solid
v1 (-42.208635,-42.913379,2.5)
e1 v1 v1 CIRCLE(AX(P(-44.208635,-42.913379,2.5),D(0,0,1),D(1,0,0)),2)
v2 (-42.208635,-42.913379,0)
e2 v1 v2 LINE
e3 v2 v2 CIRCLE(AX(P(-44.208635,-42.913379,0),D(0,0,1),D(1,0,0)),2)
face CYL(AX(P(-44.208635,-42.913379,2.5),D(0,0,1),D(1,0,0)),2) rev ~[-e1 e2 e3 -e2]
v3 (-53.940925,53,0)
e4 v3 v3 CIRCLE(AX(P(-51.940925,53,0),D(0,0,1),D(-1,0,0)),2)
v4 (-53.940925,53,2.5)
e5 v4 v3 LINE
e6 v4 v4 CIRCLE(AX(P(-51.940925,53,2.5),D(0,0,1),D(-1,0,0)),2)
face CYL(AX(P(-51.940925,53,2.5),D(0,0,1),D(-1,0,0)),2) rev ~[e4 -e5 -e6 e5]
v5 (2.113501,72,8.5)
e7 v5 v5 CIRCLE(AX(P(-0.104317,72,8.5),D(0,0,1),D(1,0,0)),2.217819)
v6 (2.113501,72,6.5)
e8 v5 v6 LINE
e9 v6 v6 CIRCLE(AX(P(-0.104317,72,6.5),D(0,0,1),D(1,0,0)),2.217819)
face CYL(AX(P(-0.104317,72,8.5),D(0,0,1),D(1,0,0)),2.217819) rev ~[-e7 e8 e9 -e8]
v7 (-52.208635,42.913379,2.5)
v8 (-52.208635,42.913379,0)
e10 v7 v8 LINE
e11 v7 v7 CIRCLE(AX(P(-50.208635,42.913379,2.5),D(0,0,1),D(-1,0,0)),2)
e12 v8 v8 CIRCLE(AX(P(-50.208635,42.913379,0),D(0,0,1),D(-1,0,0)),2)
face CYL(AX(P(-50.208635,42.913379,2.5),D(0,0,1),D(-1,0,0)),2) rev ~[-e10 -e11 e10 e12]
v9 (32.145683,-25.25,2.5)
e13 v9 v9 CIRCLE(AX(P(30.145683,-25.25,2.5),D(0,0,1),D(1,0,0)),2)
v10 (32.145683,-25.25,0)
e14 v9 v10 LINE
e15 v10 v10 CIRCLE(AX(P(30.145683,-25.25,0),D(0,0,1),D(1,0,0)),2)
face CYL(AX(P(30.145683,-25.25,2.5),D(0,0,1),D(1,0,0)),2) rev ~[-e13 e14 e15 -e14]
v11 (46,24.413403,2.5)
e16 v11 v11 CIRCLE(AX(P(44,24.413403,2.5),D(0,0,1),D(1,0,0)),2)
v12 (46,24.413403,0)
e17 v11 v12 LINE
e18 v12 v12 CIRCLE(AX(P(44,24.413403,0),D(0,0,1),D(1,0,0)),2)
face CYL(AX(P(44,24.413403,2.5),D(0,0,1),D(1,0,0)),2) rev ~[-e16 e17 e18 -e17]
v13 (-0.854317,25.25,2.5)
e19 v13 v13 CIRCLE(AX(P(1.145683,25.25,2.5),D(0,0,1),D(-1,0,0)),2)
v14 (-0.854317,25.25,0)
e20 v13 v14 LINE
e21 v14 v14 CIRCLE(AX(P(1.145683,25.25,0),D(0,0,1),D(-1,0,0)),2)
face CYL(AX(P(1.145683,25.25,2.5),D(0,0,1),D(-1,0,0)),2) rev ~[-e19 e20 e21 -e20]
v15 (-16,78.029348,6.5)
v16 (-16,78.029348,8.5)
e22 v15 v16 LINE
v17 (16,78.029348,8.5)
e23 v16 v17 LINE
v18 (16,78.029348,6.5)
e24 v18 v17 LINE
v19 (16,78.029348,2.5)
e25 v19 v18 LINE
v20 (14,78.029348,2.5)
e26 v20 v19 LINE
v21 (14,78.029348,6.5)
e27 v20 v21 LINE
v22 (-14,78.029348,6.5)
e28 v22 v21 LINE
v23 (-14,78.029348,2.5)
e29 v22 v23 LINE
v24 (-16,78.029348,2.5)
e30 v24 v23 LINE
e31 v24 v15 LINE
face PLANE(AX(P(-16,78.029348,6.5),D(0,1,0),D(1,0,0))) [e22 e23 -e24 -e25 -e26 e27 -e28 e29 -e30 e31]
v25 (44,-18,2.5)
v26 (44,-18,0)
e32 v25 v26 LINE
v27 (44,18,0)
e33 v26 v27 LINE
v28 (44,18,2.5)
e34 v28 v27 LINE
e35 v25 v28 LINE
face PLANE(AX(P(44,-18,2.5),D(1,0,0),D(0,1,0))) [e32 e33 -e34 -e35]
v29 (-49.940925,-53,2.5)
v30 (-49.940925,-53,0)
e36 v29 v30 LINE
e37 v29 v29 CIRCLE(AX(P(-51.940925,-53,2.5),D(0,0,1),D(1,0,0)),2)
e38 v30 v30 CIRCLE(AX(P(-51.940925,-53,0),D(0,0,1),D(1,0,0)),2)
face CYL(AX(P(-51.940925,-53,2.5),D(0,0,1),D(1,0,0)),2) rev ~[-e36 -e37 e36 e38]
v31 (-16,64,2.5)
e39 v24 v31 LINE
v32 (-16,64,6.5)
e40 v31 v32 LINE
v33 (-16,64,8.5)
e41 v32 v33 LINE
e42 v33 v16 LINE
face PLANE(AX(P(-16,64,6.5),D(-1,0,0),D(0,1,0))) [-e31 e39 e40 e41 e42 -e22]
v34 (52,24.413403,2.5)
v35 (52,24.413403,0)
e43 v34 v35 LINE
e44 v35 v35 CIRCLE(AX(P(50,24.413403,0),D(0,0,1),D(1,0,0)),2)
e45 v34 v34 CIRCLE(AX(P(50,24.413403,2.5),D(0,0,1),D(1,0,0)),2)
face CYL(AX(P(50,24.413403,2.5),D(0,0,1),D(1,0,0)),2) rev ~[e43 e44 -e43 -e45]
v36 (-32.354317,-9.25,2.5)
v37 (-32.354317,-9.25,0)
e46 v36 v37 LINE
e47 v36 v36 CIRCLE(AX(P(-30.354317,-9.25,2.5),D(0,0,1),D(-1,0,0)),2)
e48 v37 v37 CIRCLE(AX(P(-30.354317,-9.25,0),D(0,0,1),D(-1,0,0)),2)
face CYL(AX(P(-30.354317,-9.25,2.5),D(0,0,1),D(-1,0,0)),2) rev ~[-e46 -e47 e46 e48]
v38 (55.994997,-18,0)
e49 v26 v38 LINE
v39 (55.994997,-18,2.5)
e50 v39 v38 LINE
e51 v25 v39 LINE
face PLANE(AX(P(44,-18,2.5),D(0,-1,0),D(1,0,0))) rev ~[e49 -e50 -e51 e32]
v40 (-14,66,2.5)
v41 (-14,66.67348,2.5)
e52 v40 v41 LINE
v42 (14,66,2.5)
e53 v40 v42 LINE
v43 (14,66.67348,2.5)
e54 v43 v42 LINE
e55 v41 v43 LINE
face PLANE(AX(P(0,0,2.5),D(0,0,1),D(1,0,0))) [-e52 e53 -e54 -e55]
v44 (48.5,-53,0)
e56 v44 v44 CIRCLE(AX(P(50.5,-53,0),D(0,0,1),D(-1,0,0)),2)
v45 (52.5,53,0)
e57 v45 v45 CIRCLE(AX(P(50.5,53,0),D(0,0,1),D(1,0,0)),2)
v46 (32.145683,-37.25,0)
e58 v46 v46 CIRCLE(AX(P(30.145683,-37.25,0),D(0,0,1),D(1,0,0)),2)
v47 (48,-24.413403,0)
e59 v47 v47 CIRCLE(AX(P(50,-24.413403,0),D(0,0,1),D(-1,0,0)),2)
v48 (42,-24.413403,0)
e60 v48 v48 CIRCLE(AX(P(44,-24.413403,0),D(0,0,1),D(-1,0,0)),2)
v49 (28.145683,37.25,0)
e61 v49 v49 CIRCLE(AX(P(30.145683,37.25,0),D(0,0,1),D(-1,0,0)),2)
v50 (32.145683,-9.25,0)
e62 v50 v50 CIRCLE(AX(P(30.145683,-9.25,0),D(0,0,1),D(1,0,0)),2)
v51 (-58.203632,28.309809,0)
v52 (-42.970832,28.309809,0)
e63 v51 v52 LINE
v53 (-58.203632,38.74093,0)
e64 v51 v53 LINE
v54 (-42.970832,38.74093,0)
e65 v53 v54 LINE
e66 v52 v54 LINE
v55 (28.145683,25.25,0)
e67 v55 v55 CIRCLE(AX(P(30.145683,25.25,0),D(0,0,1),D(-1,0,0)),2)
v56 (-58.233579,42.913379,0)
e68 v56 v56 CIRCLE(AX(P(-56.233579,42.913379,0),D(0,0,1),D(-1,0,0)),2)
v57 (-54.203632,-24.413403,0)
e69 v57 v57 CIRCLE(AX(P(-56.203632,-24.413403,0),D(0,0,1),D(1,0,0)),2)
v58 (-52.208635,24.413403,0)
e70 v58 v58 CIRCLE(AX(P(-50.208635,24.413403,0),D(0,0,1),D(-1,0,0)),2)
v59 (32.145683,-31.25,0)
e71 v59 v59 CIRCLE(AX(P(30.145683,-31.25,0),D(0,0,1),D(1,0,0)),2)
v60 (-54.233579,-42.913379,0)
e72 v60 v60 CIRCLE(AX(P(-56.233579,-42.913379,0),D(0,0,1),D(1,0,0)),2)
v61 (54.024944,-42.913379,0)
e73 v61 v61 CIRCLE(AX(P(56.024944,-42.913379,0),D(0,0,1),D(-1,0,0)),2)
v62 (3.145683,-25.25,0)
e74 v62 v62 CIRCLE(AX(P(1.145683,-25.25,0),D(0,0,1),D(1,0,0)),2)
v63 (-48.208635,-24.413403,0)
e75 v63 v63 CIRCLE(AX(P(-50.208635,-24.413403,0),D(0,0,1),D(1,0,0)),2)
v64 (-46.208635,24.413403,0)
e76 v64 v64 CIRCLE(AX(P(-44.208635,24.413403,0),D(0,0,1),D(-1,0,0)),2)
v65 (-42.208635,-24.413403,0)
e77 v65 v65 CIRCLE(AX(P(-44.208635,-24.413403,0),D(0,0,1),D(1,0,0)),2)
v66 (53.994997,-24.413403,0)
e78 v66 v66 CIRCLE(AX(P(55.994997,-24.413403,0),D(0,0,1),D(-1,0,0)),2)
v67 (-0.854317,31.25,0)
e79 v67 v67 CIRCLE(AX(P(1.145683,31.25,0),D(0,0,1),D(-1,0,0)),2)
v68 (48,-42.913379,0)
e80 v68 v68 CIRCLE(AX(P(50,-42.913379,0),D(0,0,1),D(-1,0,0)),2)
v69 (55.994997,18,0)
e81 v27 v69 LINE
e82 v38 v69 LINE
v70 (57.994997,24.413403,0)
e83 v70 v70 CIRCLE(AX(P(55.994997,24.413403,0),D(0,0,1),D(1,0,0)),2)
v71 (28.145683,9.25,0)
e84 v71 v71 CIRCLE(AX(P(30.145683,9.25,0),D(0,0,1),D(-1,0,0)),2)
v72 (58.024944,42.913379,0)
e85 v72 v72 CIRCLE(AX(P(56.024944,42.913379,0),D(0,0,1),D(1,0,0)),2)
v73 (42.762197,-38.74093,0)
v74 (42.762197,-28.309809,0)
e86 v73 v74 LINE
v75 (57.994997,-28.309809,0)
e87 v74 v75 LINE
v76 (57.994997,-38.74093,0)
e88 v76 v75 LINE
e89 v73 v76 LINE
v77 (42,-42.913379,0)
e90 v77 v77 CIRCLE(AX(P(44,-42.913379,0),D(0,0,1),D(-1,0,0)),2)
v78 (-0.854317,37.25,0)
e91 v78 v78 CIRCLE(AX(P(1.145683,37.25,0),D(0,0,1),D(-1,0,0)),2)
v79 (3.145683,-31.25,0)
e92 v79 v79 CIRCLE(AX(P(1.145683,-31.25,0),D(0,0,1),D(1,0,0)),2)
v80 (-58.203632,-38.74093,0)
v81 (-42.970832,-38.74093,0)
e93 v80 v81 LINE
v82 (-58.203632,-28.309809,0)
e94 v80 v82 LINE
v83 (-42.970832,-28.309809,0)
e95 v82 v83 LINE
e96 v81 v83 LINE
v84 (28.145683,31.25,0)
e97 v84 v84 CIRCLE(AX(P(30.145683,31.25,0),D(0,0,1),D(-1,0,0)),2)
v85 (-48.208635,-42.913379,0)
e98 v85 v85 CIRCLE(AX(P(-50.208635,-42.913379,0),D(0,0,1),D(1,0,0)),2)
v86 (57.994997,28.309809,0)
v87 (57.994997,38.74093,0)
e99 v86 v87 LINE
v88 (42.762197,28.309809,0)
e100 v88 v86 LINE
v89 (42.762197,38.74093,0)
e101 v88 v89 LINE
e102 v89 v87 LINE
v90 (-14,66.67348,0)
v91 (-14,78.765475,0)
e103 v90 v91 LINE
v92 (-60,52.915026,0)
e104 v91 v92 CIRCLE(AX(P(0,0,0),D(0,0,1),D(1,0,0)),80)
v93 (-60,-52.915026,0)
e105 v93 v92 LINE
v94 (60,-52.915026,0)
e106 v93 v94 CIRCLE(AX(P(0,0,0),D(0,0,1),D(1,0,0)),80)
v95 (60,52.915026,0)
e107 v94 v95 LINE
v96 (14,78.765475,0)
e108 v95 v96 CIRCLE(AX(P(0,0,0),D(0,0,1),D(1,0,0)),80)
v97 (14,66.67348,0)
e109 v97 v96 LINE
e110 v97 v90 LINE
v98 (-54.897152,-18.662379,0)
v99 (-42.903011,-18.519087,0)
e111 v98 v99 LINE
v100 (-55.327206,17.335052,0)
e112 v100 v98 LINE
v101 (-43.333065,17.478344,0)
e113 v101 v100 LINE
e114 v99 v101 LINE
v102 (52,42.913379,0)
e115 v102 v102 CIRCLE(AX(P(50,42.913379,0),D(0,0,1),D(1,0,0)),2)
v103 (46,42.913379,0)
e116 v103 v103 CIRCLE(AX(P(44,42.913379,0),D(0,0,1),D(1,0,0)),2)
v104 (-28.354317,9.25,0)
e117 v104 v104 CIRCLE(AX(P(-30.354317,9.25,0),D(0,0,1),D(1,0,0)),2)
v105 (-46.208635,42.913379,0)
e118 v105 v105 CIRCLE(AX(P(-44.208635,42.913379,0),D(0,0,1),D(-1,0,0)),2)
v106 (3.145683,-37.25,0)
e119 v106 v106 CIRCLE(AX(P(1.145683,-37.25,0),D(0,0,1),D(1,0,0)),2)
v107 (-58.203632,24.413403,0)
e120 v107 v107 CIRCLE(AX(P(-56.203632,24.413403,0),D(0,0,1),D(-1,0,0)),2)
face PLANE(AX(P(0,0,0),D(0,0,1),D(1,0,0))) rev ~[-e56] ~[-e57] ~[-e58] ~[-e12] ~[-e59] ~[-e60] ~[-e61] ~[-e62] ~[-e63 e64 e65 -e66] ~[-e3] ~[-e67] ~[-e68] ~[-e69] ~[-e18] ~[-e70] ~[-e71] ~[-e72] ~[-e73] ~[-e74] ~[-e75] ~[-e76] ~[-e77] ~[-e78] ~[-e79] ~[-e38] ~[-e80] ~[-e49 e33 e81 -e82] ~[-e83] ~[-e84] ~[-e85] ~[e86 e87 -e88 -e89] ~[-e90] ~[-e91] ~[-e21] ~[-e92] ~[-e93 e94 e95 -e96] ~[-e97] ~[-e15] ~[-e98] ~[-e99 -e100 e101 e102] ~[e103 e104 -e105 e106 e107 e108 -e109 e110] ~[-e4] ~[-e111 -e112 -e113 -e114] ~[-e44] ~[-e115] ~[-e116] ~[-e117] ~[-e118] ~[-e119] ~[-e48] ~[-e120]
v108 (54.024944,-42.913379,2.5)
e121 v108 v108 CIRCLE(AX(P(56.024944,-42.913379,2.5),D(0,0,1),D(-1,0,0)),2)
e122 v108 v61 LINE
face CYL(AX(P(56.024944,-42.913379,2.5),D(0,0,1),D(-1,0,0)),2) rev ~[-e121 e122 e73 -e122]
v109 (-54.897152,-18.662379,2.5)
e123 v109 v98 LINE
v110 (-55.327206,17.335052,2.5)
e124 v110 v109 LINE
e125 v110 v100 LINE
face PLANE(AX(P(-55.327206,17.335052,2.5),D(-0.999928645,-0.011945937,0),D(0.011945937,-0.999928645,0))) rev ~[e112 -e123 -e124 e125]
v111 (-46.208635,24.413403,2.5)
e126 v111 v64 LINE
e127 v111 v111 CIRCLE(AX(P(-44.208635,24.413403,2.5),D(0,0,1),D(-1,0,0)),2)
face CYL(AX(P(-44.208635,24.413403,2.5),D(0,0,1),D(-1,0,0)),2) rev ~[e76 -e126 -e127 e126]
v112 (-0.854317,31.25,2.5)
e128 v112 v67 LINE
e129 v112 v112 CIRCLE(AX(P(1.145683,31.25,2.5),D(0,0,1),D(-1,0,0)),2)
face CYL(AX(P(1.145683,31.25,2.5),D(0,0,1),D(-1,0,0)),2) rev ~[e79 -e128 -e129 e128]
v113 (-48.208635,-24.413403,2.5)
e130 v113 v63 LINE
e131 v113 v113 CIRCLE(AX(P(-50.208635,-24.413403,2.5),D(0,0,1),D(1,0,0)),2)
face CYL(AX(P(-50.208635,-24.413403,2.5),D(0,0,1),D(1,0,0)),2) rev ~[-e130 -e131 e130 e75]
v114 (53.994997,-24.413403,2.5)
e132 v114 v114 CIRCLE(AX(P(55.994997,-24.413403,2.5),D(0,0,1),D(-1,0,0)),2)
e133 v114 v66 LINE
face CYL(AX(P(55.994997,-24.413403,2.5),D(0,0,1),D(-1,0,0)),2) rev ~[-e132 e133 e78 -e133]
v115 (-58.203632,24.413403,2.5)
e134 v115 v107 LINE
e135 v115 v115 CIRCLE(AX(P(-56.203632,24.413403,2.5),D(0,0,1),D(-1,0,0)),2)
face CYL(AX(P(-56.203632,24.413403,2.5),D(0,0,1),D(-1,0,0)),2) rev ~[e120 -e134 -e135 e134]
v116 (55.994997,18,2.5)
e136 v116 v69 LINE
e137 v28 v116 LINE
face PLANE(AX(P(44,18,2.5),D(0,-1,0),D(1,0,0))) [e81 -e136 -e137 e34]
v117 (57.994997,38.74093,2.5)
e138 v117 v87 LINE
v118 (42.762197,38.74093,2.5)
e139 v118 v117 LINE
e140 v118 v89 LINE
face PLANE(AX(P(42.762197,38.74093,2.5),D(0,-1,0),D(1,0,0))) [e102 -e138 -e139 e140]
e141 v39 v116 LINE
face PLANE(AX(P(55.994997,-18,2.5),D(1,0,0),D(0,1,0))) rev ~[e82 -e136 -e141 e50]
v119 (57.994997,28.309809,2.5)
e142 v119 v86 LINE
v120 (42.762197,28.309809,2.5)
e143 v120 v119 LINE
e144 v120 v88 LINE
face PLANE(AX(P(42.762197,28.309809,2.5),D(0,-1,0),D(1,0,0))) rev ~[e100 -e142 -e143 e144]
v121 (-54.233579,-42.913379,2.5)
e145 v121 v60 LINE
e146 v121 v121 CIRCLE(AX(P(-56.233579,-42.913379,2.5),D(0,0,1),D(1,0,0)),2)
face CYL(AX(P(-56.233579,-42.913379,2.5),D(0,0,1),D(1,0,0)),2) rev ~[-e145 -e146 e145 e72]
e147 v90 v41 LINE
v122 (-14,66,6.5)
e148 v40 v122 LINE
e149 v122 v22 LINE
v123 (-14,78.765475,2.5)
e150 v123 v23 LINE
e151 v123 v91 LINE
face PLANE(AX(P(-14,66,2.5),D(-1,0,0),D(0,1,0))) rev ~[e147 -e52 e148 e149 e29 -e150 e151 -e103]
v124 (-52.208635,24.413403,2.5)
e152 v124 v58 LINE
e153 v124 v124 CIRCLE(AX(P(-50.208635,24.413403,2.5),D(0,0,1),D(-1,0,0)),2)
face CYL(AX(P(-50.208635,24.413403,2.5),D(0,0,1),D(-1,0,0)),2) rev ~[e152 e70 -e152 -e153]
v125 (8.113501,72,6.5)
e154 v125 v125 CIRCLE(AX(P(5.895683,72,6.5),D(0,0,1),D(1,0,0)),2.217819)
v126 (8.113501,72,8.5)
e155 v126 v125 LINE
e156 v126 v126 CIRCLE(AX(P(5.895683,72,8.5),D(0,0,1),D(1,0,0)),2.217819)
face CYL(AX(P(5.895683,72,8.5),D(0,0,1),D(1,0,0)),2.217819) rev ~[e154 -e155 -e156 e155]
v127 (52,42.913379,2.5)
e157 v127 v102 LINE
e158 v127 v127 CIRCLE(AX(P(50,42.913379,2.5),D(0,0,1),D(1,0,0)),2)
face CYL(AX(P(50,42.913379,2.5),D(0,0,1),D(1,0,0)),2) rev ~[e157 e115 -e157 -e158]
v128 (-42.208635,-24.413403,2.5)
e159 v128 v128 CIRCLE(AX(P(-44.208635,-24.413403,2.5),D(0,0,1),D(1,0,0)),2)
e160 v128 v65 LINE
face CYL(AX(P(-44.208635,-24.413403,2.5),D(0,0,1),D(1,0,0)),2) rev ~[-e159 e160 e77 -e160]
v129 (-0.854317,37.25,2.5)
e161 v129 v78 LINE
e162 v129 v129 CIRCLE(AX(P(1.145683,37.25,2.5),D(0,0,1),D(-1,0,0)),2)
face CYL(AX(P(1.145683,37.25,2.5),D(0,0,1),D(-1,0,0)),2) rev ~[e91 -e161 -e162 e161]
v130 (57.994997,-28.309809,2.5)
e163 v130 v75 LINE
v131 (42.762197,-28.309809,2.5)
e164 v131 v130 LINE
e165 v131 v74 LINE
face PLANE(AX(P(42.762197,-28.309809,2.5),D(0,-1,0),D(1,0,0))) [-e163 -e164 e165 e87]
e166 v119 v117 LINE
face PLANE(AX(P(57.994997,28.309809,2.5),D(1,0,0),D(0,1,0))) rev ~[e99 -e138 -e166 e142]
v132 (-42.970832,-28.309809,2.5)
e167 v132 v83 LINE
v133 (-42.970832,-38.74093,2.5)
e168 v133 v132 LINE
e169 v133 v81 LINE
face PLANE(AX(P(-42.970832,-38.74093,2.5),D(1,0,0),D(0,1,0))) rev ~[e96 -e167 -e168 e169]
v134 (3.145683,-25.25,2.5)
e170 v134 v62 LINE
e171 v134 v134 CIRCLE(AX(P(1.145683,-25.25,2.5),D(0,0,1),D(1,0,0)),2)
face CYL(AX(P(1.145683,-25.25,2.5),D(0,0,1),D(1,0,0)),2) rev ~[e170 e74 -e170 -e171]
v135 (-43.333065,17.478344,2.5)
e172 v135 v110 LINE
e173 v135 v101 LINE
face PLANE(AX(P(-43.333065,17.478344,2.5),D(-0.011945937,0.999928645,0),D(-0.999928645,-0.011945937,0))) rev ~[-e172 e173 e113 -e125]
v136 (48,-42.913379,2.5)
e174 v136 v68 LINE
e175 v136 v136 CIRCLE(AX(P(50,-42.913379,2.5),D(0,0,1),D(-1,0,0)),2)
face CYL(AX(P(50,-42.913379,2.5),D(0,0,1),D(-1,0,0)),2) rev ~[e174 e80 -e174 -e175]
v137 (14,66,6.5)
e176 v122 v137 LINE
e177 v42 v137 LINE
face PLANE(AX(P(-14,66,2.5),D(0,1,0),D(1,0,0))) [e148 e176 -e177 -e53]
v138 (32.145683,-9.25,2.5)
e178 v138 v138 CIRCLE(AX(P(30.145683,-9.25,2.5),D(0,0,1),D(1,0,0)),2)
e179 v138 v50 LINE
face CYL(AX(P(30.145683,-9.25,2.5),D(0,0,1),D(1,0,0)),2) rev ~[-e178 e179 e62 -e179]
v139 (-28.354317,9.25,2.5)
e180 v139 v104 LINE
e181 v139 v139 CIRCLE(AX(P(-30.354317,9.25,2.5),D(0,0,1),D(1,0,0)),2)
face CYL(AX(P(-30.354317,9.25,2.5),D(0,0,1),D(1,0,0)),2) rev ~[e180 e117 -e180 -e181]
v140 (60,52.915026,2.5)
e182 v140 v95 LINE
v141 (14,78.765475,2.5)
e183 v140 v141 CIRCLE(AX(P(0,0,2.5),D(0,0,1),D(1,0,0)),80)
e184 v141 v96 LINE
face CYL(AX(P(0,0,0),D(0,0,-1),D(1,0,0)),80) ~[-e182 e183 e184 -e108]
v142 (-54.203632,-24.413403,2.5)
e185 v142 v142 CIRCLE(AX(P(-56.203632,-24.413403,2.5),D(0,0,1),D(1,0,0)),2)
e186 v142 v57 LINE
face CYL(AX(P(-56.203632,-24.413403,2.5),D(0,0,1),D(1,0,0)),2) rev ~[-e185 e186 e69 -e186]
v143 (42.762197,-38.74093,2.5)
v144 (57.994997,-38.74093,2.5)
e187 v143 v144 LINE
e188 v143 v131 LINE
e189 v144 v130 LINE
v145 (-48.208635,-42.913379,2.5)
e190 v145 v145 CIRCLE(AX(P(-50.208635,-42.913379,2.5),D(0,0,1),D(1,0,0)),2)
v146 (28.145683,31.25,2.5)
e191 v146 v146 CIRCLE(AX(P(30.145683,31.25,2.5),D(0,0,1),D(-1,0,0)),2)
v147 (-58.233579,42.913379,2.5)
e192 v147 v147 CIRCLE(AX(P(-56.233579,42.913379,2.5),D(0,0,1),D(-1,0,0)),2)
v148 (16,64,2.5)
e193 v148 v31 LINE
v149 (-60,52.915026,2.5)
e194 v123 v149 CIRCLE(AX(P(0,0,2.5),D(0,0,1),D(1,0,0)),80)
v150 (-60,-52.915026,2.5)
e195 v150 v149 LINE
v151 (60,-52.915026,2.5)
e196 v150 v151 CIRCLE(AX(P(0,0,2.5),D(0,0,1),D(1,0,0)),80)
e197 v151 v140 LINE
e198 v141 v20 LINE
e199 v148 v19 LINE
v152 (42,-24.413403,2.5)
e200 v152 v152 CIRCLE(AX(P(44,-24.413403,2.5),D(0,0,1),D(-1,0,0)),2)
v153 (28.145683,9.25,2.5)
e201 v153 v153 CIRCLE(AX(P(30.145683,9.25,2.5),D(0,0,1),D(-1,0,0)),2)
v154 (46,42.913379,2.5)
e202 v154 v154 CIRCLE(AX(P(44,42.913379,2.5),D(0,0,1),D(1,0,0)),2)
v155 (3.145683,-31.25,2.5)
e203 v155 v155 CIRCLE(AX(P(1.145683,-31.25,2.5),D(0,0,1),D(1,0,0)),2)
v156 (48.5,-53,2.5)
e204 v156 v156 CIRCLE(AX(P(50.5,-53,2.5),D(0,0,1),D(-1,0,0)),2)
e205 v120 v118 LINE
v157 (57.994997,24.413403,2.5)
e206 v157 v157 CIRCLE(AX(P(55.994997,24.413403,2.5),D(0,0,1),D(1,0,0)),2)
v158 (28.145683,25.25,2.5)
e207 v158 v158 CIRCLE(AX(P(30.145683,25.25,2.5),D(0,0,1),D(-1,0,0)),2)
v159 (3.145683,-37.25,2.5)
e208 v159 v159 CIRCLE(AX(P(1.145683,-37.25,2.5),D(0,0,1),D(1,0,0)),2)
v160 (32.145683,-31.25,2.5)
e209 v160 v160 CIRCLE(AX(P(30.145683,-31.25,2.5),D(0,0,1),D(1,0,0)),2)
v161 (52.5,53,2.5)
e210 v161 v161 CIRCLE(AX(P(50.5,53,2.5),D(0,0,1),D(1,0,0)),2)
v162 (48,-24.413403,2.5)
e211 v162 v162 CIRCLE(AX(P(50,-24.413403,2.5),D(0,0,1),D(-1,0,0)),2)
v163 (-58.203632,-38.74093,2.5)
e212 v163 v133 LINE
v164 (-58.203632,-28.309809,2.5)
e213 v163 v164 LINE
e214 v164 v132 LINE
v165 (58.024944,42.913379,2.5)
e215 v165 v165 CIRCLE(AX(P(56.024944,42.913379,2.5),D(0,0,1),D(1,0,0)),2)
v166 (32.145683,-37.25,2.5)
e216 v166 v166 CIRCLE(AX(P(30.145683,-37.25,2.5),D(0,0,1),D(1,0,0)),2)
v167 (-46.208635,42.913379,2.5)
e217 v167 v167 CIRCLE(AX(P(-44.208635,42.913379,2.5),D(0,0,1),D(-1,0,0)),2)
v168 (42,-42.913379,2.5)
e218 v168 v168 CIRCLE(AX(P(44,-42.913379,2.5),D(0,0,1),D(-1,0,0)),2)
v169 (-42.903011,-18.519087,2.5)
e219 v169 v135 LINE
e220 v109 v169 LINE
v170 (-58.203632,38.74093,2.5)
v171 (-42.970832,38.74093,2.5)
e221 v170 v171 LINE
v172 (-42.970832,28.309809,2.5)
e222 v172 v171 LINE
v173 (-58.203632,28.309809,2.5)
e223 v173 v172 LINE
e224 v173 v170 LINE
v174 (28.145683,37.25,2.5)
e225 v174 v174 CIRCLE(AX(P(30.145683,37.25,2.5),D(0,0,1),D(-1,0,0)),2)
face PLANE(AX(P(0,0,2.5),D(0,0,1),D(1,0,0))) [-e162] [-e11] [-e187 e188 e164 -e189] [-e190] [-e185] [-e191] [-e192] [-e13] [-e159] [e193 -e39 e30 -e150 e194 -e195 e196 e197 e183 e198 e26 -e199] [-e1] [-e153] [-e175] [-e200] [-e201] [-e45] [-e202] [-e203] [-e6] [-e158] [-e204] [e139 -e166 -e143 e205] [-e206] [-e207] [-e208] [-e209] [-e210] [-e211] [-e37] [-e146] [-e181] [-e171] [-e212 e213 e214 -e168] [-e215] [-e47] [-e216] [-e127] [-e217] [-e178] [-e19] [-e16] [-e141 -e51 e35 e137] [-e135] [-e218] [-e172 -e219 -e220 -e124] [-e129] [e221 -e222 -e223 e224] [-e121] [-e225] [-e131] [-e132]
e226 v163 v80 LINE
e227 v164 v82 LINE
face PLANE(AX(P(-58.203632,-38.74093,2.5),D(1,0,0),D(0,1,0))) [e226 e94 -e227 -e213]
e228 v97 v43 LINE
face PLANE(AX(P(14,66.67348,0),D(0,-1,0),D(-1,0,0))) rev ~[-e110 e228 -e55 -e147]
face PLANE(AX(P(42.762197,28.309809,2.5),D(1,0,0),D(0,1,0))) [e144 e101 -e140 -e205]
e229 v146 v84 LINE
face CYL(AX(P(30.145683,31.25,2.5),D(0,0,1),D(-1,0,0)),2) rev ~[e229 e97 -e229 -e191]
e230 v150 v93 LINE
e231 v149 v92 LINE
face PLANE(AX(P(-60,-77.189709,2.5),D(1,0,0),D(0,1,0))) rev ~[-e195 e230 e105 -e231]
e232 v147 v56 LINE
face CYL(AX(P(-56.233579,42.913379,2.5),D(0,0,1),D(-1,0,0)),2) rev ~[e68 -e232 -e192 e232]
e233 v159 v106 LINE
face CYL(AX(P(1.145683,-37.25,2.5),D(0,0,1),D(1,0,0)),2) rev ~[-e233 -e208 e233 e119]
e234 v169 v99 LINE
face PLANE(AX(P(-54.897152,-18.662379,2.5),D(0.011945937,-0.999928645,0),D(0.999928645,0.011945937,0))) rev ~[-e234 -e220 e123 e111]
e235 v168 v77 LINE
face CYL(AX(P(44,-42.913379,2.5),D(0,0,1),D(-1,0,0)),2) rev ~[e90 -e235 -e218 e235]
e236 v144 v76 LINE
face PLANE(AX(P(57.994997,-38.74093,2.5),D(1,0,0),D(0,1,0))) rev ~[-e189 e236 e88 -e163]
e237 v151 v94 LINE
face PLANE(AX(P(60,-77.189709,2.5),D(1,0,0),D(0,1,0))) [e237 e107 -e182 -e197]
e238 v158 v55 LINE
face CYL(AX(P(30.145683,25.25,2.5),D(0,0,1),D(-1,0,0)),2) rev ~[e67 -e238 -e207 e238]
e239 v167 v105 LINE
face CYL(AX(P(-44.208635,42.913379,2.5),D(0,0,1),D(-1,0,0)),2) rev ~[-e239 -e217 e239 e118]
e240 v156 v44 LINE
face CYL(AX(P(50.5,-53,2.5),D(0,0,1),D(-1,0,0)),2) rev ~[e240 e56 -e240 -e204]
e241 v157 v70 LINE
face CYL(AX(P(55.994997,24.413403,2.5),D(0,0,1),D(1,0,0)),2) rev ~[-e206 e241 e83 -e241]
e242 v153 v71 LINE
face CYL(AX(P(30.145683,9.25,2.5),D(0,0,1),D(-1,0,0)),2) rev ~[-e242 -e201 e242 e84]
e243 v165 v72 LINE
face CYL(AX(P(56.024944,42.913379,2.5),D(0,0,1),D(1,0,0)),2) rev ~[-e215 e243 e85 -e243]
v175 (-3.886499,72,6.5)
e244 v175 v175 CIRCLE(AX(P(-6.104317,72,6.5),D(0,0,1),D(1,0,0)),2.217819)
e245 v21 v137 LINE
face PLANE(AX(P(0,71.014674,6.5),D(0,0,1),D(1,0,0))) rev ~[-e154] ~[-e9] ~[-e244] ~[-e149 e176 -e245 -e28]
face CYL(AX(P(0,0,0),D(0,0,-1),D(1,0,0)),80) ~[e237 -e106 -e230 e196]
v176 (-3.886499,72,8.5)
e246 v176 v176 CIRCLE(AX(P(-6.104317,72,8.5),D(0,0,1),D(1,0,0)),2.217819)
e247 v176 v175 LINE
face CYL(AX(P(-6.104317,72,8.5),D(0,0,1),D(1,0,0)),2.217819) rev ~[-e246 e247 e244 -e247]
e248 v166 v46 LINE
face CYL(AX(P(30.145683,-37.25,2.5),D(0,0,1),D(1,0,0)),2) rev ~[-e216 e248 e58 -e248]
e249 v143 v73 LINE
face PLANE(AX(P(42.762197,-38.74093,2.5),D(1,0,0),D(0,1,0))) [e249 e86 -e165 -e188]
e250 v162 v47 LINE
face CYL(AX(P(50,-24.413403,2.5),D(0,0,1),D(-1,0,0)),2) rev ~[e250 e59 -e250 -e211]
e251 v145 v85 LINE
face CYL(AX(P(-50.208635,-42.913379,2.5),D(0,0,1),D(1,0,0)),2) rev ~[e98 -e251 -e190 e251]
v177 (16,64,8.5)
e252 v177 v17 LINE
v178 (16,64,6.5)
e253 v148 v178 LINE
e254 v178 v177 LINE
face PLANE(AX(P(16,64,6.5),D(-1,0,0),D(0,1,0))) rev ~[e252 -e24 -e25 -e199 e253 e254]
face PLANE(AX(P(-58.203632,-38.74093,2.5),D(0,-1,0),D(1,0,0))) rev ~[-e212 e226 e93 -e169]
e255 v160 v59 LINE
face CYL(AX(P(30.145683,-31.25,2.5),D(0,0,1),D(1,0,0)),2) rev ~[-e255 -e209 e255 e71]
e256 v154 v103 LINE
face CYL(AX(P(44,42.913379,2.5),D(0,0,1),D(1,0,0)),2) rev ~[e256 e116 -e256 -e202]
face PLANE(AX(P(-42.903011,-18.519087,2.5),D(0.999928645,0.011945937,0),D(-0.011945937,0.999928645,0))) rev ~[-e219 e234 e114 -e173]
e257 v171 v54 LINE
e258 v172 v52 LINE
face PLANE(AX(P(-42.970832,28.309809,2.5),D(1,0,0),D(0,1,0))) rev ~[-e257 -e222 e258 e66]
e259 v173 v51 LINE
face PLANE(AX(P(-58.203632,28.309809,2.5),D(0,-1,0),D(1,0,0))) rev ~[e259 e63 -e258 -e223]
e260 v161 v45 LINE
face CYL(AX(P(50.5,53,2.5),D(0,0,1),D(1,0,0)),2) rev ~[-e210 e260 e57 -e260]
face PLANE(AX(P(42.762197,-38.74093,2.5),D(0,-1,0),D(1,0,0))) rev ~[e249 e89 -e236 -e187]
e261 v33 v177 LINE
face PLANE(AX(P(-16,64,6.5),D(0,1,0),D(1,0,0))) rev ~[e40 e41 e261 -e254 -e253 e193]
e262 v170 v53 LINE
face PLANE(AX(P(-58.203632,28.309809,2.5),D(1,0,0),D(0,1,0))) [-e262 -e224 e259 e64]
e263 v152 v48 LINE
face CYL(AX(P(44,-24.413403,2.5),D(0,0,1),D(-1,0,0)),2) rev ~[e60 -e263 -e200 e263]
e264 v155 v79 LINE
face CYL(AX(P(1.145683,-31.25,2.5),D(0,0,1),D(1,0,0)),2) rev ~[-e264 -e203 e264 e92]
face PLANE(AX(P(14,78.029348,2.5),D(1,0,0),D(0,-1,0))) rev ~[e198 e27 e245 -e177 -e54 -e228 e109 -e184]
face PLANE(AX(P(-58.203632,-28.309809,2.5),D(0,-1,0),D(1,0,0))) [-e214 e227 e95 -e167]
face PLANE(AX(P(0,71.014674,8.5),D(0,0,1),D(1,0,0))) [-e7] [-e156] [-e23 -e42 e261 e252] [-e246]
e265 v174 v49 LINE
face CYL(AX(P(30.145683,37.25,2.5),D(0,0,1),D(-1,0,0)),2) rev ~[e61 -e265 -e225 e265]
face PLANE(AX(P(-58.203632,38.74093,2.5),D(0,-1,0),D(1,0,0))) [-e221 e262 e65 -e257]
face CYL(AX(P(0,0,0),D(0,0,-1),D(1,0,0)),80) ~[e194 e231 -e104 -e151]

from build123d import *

# Parameters (mm, degrees)
SKETCH_1_R          = 80
EXTRUDE_1_DEPTH     = 2.5
SKETCH_2_W          = 100.60548239
SKETCH_2_H          = 145.735598162
CUT_EXTRUDE_1_DEPTH = 114.164702978
SKETCH_3_R          = 2
CUT_EXTRUDE_2_DEPTH = 101.031245119
SKETCH_4_R          = 2
SKETCH_4_W          = 15.232799914
SKETCH_4_H          = 10.431121385
SKETCH_4_W_2        = 11.994997095
SKETCH_4_H_2        = 36
CUT_EXTRUDE_3_DEPTH = 101.031245119
EXTRUDE_2_DEPTH     = 4
SKETCH_6_W          = 32
SKETCH_6_H          = 14.029347869
EXTRUDE_3_DEPTH     = 2
SKETCH_7_R          = 2.217818609
CUT_EXTRUDE_4_DEPTH = 3
SKETCH_8_W          = 28
SKETCH_8_H          = 15.27806524
CUT_EXTRUDE_5_DEPTH = 3


with BuildPart() as part:
    # 草圖1 → 填料-伸長1 (new body)
    with BuildSketch(Plane.XY):
        Circle(SKETCH_1_R)
    extrude(amount=EXTRUDE_1_DEPTH)

    # 草圖2 → 除料-伸長1 (cut, through all)
    with BuildSketch(Plane.XY.offset(2.5)):
        with Locations((110.302741195, -4.321910255)):
            Rectangle(SKETCH_2_W, SKETCH_2_H)
        with Locations((-110.302741195, -4.321910255)):
            Rectangle(SKETCH_2_W, SKETCH_2_H)
    extrude(amount=-CUT_EXTRUDE_1_DEPTH, mode=Mode.SUBTRACT)

    # 草圖3 → 除料-伸長2 (cut, through all)
    with BuildSketch(Plane.XY.offset(2.5)):
        with Locations((50.5, 53)):
            Circle(SKETCH_3_R)
        with Locations(Location((-51.940924548, 53, 0), (0, 0, 180))):
            Circle(SKETCH_3_R)
        with Locations(Location((50.5, -53, 0), (0, 0, 180))):
            Circle(SKETCH_3_R)
        with Locations((-51.940924548, -53)):
            Circle(SKETCH_3_R)
    extrude(amount=-CUT_EXTRUDE_2_DEPTH, mode=Mode.SUBTRACT)

    # 草圖4 → 除料-伸長3 (cut, through all)
    with BuildSketch(Plane.XY.offset(2.5)):
        with Locations((56.024944143, 42.913378777)):
            Circle(SKETCH_4_R)
        with Locations((50, 42.913378777)):
            Circle(SKETCH_4_R)
        with Locations((44, 42.913378777)):
            Circle(SKETCH_4_R)
        with Locations((55.994997095, 24.413403016)):
            Circle(SKETCH_4_R)
        with Locations((50, 24.413403016)):
            Circle(SKETCH_4_R)
        with Locations((44, 24.413403016)):
            Circle(SKETCH_4_R)
        with Locations((-30.354317412, 9.25)):
            Circle(SKETCH_4_R)
        with Locations(Location((30.145682588, 9.25, 0), (0, 0, 180))):
            Circle(SKETCH_4_R)
        with Locations((30.145682588, -9.25)):
            Circle(SKETCH_4_R)
        with Locations(Location((-30.354317412, -9.25, 0), (0, 0, 180))):
            Circle(SKETCH_4_R)
        with Locations((30.145682588, -25.25)):
            Circle(SKETCH_4_R)
        with Locations((30.145682588, -31.25)):
            Circle(SKETCH_4_R)
        with Locations((30.145682588, -37.25)):
            Circle(SKETCH_4_R)
        with Locations(Location((1.145682588, 37.25, 0), (0, 0, 180))):
            Circle(SKETCH_4_R)
        with Locations(Location((1.145682588, 31.25, 0), (0, 0, 180))):
            Circle(SKETCH_4_R)
        with Locations(Location((1.145682588, 25.25, 0), (0, 0, 180))):
            Circle(SKETCH_4_R)
        with Locations((1.145682588, -25.25)):
            Circle(SKETCH_4_R)
        with Locations((1.145682588, -31.25)):
            Circle(SKETCH_4_R)
        with Locations((1.145682588, -37.25)):
            Circle(SKETCH_4_R)
        with Locations(Location((30.145682588, 37.25, 0), (0, 0, 180))):
            Circle(SKETCH_4_R)
        with Locations(Location((30.145682588, 31.25, 0), (0, 0, 180))):
            Circle(SKETCH_4_R)
        with Locations(Location((30.145682588, 25.25, 0), (0, 0, 180))):
            Circle(SKETCH_4_R)
        with Locations(Location((44, -42.913378777, 0), (0, 0, 180))):
            Circle(SKETCH_4_R)
        with Locations(Location((50, -42.913378777, 0), (0, 0, 180))):
            Circle(SKETCH_4_R)
        with Locations(Location((56.024944143, -42.913378777, 0), (0, 0, 180))):
            Circle(SKETCH_4_R)
        with Locations(Location((55.994997095, -24.413403016, 0), (0, 0, 180))):
            Circle(SKETCH_4_R)
        with Locations(Location((50, -24.413403016, 0), (0, 0, 180))):
            Circle(SKETCH_4_R)
        with Locations(Location((44, -24.413403016, 0), (0, 0, 180))):
            Circle(SKETCH_4_R)
        with Locations(Location((-44.208634825, 24.413403016, 0), (0, 0, 180))):
            Circle(SKETCH_4_R)
        with Locations(Location((-50.208634825, 24.413403016, 0), (0, 0, 180))):
            Circle(SKETCH_4_R)
        with Locations(Location((-56.20363192, 24.413403016, 0), (0, 0, 180))):
            Circle(SKETCH_4_R)
        with Locations(Location((-44.208634825, 42.913378777, 0), (0, 0, 180))):
            Circle(SKETCH_4_R)
        with Locations(Location((-50.208634825, 42.913378777, 0), (0, 0, 180))):
            Circle(SKETCH_4_R)
        with Locations(Location((-56.233578968, 42.913378777, 0), (0, 0, 180))):
            Circle(SKETCH_4_R)
        with Locations((-44.208634825, -24.413403016)):
            Circle(SKETCH_4_R)
        with Locations((-50.208634825, -24.413403016)):
            Circle(SKETCH_4_R)
        with Locations((-56.20363192, -24.413403016)):
            Circle(SKETCH_4_R)
        with Locations((-56.233578968, -42.913378777)):
            Circle(SKETCH_4_R)
        with Locations((-50.208634825, -42.913378777)):
            Circle(SKETCH_4_R)
        with Locations((-44.208634825, -42.913378777)):
            Circle(SKETCH_4_R)
        with Locations((50.378597138, 33.525369531)):
            Rectangle(SKETCH_4_W, SKETCH_4_H)
        Polygon((-55.327205732, 17.335052239), (-54.897151983, -18.662378972), (-42.903010794, -18.519087487), (-43.333064544, 17.478343724), align=None)
        with Locations((49.997498548, 0)):
            Rectangle(SKETCH_4_W_2, SKETCH_4_H_2)
        with Locations((50.378597138, -33.525369531)):
            Rectangle(SKETCH_4_W, SKETCH_4_H)
        with Locations((-50.587231963, 33.525369531)):
            Rectangle(SKETCH_4_W, SKETCH_4_H)
        with Locations((-50.587231963, -33.525369531)):
            Rectangle(SKETCH_4_W, SKETCH_4_H)
    extrude(amount=-CUT_EXTRUDE_3_DEPTH, mode=Mode.SUBTRACT)

    # 草圖5 → 填料-伸長2 (add)
    with BuildSketch(Plane.XY.offset(2.5)):
        Polygon((14, 78.029347869), (16, 78.029347869), (16, 66), (16, 64), (-16, 64), (-16, 66), (-16, 78.029347869), (-14, 78.029347869), (-14, 76), (-14, 66), (14, 66), (14, 76), align=None)
    extrude(amount=EXTRUDE_2_DEPTH)

    # 草圖6 → 填料-伸長3 (add)
    with BuildSketch(Plane.XY.offset(6.5)):
        with Locations((0, 71.014673934)):
            Rectangle(SKETCH_6_W, SKETCH_6_H)
    extrude(amount=EXTRUDE_3_DEPTH)

    # 草圖7 → 除料-伸長4 (cut)
    with BuildSketch(Plane.XY.offset(8.5)):
        with Locations((-0.104317412, 72)):
            Circle(SKETCH_7_R)
        with Locations((5.895682588, 72)):
            Circle(SKETCH_7_R)
        with Locations((-6.104317412, 72)):
            Circle(SKETCH_7_R)
    extrude(amount=-CUT_EXTRUDE_4_DEPTH, mode=Mode.SUBTRACT)

    # 草圖8 → 除料-伸長5 (cut)
    with BuildSketch(Plane(origin=(0, 0, 0), x_dir=(-1, 0, 0), z_dir=(0, 0, -1))):
        with Locations((0, 74.312512391)):
            Rectangle(SKETCH_8_W, SKETCH_8_H)
    extrude(amount=-CUT_EXTRUDE_5_DEPTH, mode=Mode.SUBTRACT)


solid = part.part
